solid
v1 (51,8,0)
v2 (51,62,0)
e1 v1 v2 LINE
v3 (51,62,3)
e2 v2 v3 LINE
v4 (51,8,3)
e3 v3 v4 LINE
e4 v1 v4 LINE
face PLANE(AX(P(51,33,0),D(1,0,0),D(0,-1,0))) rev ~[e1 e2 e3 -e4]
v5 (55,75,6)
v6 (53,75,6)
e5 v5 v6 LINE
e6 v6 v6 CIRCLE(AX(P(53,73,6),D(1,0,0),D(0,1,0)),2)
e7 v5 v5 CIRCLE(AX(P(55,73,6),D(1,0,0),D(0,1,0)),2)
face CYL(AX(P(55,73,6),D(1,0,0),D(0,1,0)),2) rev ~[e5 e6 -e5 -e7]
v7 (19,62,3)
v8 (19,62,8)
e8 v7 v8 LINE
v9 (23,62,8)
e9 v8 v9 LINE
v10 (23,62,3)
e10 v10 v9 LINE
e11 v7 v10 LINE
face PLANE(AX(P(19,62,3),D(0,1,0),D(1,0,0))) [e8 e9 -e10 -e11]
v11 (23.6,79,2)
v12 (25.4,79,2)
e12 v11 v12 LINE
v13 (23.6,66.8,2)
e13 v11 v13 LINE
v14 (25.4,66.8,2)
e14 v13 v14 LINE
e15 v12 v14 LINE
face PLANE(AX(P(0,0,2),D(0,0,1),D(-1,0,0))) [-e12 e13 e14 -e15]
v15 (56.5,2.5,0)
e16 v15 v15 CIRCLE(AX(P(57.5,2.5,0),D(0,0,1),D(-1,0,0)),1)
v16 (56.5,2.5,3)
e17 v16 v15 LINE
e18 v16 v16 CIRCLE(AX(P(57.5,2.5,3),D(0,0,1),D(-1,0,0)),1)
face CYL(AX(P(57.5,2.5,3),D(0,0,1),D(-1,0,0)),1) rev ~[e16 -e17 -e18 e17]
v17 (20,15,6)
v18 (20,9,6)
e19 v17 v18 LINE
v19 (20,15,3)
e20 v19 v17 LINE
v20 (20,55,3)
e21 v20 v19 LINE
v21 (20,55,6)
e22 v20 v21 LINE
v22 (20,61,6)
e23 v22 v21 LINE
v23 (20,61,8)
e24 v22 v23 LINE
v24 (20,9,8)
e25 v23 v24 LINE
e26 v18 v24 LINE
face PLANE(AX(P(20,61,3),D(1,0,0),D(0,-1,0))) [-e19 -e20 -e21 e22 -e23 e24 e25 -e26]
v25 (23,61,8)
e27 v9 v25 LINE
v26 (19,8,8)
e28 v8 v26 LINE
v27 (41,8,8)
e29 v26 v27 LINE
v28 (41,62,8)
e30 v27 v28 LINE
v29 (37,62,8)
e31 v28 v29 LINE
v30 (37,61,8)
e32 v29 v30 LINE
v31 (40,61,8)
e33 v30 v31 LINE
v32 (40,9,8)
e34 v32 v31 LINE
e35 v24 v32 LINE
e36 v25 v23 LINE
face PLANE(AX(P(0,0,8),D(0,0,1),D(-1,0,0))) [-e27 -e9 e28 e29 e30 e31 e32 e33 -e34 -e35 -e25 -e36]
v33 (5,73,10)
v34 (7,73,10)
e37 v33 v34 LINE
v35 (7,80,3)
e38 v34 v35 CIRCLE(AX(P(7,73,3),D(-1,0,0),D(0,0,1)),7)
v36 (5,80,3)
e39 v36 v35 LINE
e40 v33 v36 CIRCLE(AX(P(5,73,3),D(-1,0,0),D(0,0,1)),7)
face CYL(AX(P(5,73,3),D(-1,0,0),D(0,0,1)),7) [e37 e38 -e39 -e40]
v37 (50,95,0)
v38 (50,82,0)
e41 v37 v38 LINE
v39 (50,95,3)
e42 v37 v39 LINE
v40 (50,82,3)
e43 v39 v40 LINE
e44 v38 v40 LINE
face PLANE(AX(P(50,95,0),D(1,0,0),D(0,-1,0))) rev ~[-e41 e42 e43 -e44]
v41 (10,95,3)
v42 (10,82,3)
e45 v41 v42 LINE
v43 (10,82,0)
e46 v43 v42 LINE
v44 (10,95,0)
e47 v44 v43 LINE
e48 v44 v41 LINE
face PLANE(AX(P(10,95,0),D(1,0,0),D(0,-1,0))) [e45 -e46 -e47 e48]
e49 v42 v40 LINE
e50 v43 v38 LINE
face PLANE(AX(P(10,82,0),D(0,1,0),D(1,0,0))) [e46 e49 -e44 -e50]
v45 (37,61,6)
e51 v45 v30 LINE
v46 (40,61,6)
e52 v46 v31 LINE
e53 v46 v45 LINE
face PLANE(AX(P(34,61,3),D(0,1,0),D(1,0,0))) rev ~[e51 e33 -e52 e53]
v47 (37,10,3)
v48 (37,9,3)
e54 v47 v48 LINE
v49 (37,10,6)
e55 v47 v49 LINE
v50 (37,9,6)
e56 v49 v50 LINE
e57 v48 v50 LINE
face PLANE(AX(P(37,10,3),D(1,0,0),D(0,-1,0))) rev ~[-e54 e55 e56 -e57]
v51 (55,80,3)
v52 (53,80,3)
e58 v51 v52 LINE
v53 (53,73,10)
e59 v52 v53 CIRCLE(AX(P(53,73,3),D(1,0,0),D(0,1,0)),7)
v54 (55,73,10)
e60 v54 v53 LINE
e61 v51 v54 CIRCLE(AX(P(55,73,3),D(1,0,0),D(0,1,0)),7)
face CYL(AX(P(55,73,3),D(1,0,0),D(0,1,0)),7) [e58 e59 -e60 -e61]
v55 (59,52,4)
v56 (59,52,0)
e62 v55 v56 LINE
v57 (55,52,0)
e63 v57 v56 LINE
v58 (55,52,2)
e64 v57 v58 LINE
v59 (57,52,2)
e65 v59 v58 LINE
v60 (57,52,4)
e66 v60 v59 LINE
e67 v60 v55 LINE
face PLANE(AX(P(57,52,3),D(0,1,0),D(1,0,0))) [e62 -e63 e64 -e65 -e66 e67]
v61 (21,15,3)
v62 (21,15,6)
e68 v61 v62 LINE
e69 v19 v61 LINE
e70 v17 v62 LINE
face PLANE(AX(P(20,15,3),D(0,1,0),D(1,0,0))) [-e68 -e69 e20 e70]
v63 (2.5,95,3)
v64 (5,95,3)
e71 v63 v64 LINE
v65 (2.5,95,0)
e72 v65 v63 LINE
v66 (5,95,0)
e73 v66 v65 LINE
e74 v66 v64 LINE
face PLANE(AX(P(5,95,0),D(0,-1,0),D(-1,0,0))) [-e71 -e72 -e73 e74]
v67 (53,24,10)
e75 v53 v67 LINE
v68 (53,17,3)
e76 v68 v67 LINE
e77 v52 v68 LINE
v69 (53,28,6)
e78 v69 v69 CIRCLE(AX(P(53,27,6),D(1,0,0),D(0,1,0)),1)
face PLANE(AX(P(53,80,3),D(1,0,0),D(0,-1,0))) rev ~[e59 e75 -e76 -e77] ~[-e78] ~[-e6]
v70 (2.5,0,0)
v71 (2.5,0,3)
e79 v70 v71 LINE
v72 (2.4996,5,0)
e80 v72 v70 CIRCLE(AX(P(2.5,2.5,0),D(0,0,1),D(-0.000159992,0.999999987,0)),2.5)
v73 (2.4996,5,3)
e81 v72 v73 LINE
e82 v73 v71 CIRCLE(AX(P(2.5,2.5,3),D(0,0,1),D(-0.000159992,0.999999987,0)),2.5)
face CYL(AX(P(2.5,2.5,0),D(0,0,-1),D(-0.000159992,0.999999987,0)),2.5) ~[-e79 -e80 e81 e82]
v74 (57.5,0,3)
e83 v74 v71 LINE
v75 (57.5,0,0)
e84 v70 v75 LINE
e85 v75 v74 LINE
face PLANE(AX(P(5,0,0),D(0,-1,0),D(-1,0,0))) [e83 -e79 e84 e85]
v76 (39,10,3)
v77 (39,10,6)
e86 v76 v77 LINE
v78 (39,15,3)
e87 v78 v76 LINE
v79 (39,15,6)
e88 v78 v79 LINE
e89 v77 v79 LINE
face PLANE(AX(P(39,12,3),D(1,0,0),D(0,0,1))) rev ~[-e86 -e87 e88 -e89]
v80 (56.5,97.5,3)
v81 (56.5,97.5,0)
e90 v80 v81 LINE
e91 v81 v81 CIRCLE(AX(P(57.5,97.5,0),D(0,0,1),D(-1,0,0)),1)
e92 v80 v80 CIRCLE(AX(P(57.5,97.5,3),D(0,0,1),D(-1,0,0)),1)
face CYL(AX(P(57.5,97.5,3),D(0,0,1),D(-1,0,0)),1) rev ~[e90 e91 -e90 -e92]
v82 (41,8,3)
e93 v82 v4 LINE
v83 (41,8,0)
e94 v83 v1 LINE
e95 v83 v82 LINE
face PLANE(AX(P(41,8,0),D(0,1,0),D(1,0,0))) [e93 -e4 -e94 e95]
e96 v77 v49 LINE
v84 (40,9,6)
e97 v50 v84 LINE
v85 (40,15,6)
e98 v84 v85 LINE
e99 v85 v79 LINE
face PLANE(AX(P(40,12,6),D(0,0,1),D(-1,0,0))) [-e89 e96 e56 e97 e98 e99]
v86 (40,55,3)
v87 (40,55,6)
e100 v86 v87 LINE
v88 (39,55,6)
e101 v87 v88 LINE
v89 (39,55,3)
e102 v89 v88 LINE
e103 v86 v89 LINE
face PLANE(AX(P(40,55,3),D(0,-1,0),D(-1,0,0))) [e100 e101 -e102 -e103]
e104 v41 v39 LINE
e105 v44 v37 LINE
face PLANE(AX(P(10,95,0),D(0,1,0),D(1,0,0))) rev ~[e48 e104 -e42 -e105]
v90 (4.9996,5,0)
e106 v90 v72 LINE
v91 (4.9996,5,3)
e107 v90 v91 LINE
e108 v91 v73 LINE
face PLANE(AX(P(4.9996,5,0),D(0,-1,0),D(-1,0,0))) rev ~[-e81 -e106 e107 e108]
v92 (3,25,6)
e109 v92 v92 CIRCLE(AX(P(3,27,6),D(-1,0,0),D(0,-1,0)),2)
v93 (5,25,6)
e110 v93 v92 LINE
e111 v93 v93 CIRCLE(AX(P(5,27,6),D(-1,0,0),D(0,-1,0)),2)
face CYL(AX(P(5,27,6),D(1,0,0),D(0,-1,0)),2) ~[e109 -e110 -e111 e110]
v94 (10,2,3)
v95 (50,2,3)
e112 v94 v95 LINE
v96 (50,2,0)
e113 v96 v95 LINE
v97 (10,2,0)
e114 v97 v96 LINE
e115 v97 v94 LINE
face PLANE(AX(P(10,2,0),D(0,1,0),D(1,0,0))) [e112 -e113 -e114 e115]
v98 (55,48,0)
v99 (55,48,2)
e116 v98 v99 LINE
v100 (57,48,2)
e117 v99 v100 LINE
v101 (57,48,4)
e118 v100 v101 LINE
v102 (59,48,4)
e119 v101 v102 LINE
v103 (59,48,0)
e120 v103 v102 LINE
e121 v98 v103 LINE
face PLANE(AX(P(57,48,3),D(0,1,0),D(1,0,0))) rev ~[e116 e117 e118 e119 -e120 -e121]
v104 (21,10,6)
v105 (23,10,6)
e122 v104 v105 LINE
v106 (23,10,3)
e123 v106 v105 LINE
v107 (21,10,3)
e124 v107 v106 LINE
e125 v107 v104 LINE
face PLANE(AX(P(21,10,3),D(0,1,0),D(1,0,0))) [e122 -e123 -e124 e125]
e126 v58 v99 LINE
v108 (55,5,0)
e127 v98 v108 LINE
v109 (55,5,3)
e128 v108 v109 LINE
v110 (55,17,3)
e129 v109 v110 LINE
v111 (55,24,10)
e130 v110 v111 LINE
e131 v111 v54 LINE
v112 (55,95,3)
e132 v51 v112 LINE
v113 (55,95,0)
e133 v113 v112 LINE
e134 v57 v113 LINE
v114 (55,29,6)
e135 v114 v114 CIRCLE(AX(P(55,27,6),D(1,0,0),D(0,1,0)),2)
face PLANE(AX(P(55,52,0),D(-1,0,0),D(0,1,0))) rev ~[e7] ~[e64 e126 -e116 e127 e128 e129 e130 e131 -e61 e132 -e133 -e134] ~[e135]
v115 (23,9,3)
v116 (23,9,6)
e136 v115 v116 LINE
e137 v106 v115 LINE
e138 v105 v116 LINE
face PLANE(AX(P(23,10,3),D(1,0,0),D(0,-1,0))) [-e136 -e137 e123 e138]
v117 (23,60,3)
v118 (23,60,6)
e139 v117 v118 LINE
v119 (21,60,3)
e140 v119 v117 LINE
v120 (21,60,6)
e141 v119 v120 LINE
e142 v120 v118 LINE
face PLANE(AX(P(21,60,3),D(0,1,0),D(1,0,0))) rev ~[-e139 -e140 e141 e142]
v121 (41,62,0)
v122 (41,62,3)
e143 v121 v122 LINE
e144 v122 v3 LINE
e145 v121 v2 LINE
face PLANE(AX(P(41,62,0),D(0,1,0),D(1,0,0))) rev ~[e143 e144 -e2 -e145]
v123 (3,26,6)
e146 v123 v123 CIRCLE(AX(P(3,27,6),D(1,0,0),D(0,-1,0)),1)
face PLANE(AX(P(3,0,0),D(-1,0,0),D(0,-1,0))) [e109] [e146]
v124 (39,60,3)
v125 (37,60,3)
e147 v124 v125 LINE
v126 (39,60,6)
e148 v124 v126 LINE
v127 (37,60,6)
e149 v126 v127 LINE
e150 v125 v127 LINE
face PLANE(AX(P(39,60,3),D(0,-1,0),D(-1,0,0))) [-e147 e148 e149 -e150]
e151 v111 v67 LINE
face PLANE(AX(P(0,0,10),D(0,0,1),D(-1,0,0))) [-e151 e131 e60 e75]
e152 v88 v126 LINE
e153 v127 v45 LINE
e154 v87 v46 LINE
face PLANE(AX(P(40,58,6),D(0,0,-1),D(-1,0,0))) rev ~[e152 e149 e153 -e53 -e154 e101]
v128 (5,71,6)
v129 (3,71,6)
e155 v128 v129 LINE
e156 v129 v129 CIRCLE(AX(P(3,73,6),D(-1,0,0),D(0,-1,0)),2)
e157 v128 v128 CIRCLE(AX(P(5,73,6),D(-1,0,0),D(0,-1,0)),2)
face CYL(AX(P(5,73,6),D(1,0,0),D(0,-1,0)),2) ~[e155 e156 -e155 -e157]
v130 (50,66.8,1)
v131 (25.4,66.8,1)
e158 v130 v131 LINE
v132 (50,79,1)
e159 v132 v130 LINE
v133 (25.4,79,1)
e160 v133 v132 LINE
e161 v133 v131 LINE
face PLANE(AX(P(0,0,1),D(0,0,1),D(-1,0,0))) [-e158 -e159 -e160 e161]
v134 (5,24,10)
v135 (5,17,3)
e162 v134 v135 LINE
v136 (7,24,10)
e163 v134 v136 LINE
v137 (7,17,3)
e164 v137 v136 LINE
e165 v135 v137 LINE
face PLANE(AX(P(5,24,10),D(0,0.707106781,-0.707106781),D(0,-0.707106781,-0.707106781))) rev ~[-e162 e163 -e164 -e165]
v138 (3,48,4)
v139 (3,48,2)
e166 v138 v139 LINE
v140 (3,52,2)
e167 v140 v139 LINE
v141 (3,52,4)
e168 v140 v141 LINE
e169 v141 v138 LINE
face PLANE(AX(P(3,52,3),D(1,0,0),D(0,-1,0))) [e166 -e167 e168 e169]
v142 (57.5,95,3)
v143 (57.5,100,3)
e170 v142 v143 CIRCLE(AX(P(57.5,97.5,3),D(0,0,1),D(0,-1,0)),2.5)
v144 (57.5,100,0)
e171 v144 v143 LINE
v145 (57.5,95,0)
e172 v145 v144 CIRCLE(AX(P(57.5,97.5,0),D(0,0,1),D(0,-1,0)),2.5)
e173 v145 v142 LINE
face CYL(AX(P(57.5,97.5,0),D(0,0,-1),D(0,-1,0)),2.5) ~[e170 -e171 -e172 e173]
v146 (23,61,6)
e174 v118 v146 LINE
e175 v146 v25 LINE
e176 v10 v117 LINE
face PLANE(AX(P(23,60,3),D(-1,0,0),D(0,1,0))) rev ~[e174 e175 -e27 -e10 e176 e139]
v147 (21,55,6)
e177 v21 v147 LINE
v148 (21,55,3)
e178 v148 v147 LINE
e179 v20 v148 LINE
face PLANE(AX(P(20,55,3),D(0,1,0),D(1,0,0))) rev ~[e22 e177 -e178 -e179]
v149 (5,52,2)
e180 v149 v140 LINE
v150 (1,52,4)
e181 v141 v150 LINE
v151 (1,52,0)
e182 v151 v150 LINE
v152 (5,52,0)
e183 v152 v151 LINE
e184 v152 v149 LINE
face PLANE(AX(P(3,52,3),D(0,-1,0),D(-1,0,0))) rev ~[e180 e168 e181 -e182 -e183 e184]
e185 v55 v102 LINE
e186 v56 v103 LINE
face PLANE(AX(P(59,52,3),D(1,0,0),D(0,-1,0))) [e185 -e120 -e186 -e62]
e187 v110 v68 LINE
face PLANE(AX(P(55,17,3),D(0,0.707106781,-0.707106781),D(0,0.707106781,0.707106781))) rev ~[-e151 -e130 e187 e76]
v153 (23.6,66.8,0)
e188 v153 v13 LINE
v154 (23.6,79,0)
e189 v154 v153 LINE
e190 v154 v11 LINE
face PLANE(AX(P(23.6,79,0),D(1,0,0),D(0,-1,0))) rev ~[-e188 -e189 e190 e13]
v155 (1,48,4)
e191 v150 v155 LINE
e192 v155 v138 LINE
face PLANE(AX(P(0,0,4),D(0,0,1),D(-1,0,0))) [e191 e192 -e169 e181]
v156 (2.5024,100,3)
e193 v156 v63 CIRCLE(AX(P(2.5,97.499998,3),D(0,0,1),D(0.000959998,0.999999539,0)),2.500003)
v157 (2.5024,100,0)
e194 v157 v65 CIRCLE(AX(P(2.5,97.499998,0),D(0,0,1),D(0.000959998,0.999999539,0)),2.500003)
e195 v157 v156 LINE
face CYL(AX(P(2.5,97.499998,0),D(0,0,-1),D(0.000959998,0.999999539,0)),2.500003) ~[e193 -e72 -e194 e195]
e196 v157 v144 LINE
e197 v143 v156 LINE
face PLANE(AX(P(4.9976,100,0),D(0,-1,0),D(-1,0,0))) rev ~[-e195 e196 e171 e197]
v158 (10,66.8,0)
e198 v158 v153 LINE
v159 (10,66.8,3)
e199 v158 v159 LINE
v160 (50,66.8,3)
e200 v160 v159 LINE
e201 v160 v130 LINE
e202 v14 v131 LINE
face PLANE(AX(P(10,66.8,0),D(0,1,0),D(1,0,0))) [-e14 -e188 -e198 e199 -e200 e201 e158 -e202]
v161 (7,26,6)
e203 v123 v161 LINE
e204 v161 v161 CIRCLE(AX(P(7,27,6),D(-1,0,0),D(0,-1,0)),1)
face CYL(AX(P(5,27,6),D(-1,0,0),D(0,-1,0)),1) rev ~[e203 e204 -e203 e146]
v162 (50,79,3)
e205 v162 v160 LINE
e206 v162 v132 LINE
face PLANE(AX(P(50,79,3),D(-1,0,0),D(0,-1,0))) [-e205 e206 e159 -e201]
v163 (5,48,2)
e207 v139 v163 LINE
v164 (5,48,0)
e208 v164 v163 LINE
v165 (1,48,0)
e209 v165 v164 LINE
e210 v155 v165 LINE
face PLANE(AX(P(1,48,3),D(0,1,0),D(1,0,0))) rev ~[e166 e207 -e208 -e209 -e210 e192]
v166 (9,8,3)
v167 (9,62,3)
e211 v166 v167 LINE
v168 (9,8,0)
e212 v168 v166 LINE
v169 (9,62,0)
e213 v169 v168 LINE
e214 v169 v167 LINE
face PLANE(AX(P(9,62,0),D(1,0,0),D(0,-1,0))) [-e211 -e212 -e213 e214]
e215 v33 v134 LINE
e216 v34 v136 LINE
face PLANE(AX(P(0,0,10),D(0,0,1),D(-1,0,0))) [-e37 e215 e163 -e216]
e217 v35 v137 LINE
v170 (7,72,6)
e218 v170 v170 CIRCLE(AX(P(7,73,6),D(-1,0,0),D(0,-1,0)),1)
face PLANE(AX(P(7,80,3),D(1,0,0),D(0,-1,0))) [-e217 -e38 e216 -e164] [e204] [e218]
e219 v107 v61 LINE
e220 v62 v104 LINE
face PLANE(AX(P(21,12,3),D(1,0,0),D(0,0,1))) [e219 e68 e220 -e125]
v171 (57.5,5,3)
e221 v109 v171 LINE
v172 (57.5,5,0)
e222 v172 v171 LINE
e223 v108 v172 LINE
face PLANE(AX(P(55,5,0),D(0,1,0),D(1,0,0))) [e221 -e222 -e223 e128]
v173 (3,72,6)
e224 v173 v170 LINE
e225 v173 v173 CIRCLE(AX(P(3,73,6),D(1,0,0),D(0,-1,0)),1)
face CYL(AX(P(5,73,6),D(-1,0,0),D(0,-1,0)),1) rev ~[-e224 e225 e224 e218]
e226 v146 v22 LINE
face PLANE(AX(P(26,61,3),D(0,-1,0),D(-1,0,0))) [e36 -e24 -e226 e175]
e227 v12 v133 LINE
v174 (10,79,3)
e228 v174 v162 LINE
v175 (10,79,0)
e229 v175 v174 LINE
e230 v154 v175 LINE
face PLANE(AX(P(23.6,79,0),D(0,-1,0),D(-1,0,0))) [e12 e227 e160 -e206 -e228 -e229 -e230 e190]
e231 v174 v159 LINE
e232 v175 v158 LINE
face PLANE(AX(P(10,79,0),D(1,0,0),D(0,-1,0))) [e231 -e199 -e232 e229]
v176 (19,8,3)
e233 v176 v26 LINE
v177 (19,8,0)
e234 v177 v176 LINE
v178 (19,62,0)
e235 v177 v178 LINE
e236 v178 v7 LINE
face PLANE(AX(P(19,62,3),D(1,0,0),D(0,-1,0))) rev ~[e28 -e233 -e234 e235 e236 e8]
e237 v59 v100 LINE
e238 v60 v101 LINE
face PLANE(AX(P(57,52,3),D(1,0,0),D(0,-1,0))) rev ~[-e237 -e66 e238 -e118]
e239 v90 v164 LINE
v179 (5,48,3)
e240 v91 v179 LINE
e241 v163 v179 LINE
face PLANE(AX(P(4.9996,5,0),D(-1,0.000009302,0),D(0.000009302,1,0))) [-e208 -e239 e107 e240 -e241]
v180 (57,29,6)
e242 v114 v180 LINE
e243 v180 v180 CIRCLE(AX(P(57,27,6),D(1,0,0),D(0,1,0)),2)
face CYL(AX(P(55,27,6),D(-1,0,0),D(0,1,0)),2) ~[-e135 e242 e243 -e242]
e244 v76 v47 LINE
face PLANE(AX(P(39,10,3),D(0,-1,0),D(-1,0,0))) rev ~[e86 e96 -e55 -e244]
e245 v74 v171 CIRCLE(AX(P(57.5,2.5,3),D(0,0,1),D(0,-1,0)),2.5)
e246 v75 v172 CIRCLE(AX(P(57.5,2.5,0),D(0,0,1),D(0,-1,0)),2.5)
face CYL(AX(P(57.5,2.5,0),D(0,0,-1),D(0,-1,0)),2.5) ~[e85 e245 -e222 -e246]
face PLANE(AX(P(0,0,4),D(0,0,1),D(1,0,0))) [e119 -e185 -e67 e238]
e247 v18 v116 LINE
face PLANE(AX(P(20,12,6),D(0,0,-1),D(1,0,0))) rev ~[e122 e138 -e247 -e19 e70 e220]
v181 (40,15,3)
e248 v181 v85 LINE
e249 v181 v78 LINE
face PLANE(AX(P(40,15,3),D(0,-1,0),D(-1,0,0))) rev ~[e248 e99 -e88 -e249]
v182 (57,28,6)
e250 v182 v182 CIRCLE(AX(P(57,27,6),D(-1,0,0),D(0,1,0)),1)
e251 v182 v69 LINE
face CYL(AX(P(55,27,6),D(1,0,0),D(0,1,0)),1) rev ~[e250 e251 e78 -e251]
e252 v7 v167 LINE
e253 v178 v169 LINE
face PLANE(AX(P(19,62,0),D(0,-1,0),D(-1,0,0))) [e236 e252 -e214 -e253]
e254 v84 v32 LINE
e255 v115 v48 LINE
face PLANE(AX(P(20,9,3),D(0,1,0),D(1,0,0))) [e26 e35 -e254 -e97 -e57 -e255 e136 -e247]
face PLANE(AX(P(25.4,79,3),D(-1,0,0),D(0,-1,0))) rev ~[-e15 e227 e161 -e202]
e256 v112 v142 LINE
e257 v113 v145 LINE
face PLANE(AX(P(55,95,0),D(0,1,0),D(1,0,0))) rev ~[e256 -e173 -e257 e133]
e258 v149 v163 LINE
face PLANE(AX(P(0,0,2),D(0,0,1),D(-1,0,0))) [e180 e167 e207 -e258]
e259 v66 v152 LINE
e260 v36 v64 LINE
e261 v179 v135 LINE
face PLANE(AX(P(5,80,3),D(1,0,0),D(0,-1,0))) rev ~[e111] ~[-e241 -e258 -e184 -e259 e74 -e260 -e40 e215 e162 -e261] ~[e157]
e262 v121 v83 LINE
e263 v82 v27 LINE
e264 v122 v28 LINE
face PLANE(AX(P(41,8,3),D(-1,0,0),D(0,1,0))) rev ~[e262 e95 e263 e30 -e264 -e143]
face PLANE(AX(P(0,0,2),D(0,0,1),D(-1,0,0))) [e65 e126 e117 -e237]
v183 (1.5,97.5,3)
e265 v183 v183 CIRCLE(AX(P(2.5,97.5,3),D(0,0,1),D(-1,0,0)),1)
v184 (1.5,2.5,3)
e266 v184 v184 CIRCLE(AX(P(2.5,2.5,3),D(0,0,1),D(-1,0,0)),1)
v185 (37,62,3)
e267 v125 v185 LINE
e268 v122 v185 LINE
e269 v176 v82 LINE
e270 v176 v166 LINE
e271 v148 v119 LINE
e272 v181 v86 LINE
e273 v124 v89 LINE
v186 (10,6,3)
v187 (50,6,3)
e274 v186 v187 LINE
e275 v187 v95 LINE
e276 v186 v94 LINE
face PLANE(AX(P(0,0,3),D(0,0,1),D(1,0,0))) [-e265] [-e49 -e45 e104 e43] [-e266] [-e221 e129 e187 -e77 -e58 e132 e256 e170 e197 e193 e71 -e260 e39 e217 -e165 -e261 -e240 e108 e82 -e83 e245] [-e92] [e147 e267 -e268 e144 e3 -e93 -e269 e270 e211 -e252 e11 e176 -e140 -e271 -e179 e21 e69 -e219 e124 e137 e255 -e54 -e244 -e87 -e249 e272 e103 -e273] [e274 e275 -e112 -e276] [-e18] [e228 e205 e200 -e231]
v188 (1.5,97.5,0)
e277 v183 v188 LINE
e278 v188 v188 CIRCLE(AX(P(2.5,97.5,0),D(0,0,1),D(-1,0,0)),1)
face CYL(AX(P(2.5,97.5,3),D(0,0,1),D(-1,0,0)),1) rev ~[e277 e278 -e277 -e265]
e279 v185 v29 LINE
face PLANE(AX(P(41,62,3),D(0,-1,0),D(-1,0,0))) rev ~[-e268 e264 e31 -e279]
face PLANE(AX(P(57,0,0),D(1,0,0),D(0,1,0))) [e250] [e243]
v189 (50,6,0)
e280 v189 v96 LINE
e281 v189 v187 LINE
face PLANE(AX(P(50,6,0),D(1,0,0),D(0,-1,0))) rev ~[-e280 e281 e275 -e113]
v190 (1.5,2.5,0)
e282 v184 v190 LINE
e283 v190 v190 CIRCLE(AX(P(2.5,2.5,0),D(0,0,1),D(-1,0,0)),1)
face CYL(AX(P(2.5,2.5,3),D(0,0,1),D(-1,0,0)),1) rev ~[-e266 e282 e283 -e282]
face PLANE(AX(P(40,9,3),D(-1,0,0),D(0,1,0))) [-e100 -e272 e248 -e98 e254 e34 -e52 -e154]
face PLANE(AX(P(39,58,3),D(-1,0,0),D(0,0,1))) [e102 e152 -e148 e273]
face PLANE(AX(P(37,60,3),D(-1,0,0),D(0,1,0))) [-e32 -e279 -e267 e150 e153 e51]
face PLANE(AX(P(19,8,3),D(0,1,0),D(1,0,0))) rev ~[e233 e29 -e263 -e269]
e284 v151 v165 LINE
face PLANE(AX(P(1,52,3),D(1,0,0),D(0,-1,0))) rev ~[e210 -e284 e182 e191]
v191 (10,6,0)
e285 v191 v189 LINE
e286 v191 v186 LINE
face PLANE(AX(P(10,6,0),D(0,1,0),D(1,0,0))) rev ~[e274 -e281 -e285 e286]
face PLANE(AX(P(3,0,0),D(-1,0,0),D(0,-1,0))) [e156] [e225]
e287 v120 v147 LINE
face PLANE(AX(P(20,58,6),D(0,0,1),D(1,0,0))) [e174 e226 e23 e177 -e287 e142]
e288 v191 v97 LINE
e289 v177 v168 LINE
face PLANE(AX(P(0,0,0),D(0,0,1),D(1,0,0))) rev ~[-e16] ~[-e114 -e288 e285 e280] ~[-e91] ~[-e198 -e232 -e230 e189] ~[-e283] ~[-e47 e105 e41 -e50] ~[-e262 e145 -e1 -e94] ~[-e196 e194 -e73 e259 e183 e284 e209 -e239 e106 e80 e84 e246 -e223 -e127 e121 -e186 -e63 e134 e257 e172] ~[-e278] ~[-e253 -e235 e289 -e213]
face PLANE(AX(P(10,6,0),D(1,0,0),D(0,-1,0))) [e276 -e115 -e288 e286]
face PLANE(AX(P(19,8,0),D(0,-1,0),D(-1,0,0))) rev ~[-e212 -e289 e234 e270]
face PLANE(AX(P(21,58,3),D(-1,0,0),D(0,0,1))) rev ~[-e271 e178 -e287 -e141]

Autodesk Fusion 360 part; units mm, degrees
sketch "Structure" plane through (0, 0, 0) normal (0, 0, 1) x (1, 0, 0)
  line L0 (5, 0) -> (55, 0)
  line L1 (4.9996, 5) -> (5, 5)
  line L2 (5, 5) -> (5, 48)
  line L3 (4.9976, 100) -> (55, 100)
  arc A0 (55, 100) -> (54.9973, 100) centre (55, 97.5) ccw
  arc A1 (5.0024, 100) -> (4.9976, 100) centre (5, 97.5) ccw
  line L4 (10, 95) -> (10, 82)
  line L5 (10, 95) -> (50, 95)
  line L6 (50, 95) -> (50, 82)
  line L7 (10, 82) -> (50, 82)
  line L8 (10, 79) -> (10, 66.8)
  line L9 (23.6, 79) -> (10, 79)
  line L10 (10, 66.8) -> (23.6, 66.8)
  line L11 (23.6, 79) -> (23.6, 66.8)
  line L12 (4.9996, 8) -> (5, 8)
  line L13 (55, 5) -> (55, 8)
  line L14 (4.9996, 8) -> (5, 8)
  line L15 (10, 6) -> (50, 6)
  line L16 (10, 6) -> (10, 2)
  line L17 (10, 2) -> (50, 2)
  line L18 (50, 6) -> (50, 2)
  line L19 (19, 62) -> (19, 37)
  line L20 (19, 33) -> (19, 8)
  line L21 (19, 62) -> (9, 62)
  line L22 (19, 8) -> (9, 8)
  line L23 (9, 62) -> (9, 37)
  line L24 (9, 33) -> (9, 8)
  line L25 (41, 62) -> (41, 37)
  line L26 (41, 8) -> (41, 33)
  line L27 (41, 62) -> (51, 62)
  line L28 (41, 8) -> (51, 8)
  line L29 (51, 62) -> (51, 37)
  line L30 (51, 33) -> (51, 8)
  line L31 (55, 5) -> (55, 48)
  line L32 (55, 52) -> (59, 52)
  line L33 (55, 48) -> (59, 48)
  line L34 (59, 52) -> (59, 48)
  line L35 (55, 52) -> (55, 95)
  line L36 (5, 95) -> (5, 52)
  line L37 (5, 52) -> (1, 52)
  line L38 (1, 52) -> (1, 48)
  line L39 (1, 48) -> (5, 48)
  line L40 (9, 37) -> (9, 33)
  line L41 (19, 37) -> (19, 33)
  line L42 (41, 37) -> (41, 33)
  line L43 (51, 37) -> (51, 33)
  line L44 (55, 5) -> (57.5, 5)
  line L45 (55, 0) -> (57.5, 0)
  arc A2 (57.5, 0) -> (57.5, 5) centre (57.5, 2.5) ccw
  line L46 (55, 100) -> (57.5, 100)
  line L47 (55, 95) -> (57.5, 95)
  arc A3 (57.5, 95) -> (57.5, 100) centre (57.5, 97.5) ccw
  line L48 (5, 95) -> (2.5, 95)
  line L49 (5.0024, 100) -> (2.5024, 100)
  arc A4 (2.5024, 100) -> (2.5053, 95) centre (2.5, 97.5) ccw
  line L50 (4.9996, 5) -> (2.4996, 5)
  line L51 (5, 0) -> (2.5, 0)
  arc A5 (2.5006, 5) -> (2.5, 0) centre (2.5, 2.5) ccw
  dimension "d4" = 90
  dimension "d7" = 90
  dimension "d13" = 5
  dimension "d14" = 5
  dimension "d17" = 5
  dimension "d18" = 13
  dimension "d19" = 40
  dimension "d20" = 13
  dimension "d21" = 40
  dimension "d22" = 3
  dimension "d23" = 12.2
  dimension "d28" = 13.6
  dimension "d29" = 13.6
  dimension "d30" = 12.2
  dimension "d31" = 3
  dimension "d33" = 3
  dimension "d42" = 54
  dimension "d43" = 54
  dimension "d47" = 40
  dimension "d48" = 4
  dimension "d49" = 40
  dimension "d50" = 4
  dimension "d51" = 25
  dimension "d53" = 4
  dimension "d55" = 10
  dimension "d57" = 10
  dimension "d58" = 10
  dimension "d59" = 25
  dimension "d60" = 25
  dimension "d61" = 25
  dimension "d62" = 25
  dimension "d63" = 10
  dimension "d65" = 10
  dimension "d66" = 10
  dimension "d67" = 25
  dimension "d68" = 25
  dimension "d82" = 43
  dimension "d83" = 43
  dimension "d84" = 4
  dimension "d85" = 4
  dimension "d86" = 43
  dimension "d87" = 4
  dimension "d88" = 4
  dimension "d89" = 4
  dimension "d239" = 2.5
  dimension "d240" = 2.5
  dimension "d241" = 2.5
  dimension "d242" = 2.5
  dimension "d243" = 5
  dimension "d244" = 2.5
  dimension "d245" = 2.5
  dimension "d246" = 2.5
  dimension "d247" = 2.5
extrude "Extrude1" add sketch "Structure" along normal blind 3
sketch "Motor Hole" plane through (0, 0, 3) normal (0, 0, 1) x (-1, 0, 0)
  line L0 (-10, -82) -> (-10, -95)
  line L1 (-10, -95) -> (-50, -95)
  line L2 (-50, -95) -> (-50, -82)
  line L3 (-50, -82) -> (-10, -82)
  line L4 (-9, -62) -> (-19, -62)
  line L5 (-19, -62) -> (-19, -8)
  line L6 (-9, -8) -> (-9, -62)
  line L7 (-10, -2) -> (-10, -6)
  line L8 (-10, -6) -> (-50, -6)
  line L9 (-50, -6) -> (-50, -2)
  line L10 (-50, -2) -> (-10, -2)
  line L11 (-10, -66.8) -> (-10, -79)
  line L12 (-10, -79) -> (-23.6, -79)
  line L13 (-23.6, -79) -> (-23.6, -66.8)
  line L14 (-23.6, -66.8) -> (-10, -66.8)
  line L15 (-41, -8) -> (-41, -62)
  line L16 (-41, -62) -> (-51, -62)
  line L17 (-51, -62) -> (-51, -8)
  line L18 (-19, -8) -> (-9, -8)
  line L19 (-51, -8) -> (-41, -8)
  line L20 (-2.5, 0) -> (-57.5, 0)
  line L21 (-55, -5) -> (-55, -48)
  arc A0 (-55, -100) -> (-54.9973, -100) centre (-55, -97.5) ccw
  line L22 (-5, -48) -> (-5, -5)
  line L23 (-50, -79) -> (-50, -66.8)
  line L24 (-50, -79) -> (-25.6, -79)
  line L25 (-25.6, -79) -> (-25.6, -66.8)
  line L26 (-25.6, -66.8) -> (-50, -66.8)
  line L27 (-23.6, -79) -> (-25.6, -79)
  line L28 (-23.6, -66.8) -> (-25.6, -66.8)
  line L29 (-5, -95) -> (-5, -52)
  line L30 (-5, -52) -> (-1, -52)
  line L31 (-1, -52) -> (-1, -48)
  line L32 (-1, -48) -> (-5, -48)
  line L33 (-55, -48) -> (-59, -48)
  line L34 (-59, -48) -> (-59, -52)
  line L35 (-59, -52) -> (-55, -52)
  line L36 (-55, -52) -> (-55, -95)
  line L37 (-5, -5) -> (-2.5006, -5)
  arc A1 (-2.5006, -5) -> (-2.5, 0) centre (-2.5, -2.5) ccw
  arc A2 (-57.5, 0) -> (-57.5, -5) centre (-57.5, -2.5) ccw
  line L38 (-57.5, -5) -> (-55, -5)
  line L39 (-55, -95) -> (-57.5, -95)
  arc A3 (-57.5, -95) -> (-57.5, -100) centre (-57.5, -97.5) ccw
  line L40 (-57.5, -100) -> (-55, -100)
  line L41 (-54.9973, -100) -> (-2.5024, -100)
  arc A4 (-2.5024, -100) -> (-2.5053, -95) centre (-2.5, -97.5) ccw
  line L42 (-2.5053, -95) -> (-5, -95)
  dimension "d71" = 3
  dimension "d72" = 12.2
  dimension "d73" = 24.4
  dimension "d74" = 12.2
  dimension "d75" = 24.4
  dimension "d76" = 2
  dimension "d77" = 2
extrude "Extrude2" cut sketch "Motor Hole" against normal blind 2 contours L23 L24 L25 L26
extrude "Extrude3" cut sketch "Motor Hole" against normal blind 1 contours L13 L25 L27 L28
sketch "Rec. Base1" plane through (0, 0, 3) normal (0, 0, 1) x (-1, 0, 0)
  line L0 (-2.5, 0) -> (-57.5, 0)
  line L1 (-55, -5) -> (-55, -48)
  arc A0 (-55, -100) -> (-54.9973, -100) centre (-55, -97.5) ccw
  line L2 (-5, -48) -> (-5, -5)
  line L3 (-51, -8) -> (-41, -8)
  line L4 (-19, -8) -> (-9, -8)
  line L5 (-41, -8) -> (-41, -62)
  line L6 (-41, -62) -> (-51, -62)
  line L7 (-51, -62) -> (-51, -8)
  line L8 (-50, -66.8) -> (-10, -66.8)
  line L9 (-10, -66.8) -> (-10, -79)
  line L10 (-10, -79) -> (-50, -79)
  line L11 (-50, -79) -> (-50, -66.8)
  line L12 (-10, -2) -> (-10, -6)
  line L13 (-10, -6) -> (-50, -6)
  line L14 (-50, -6) -> (-50, -2)
  line L15 (-50, -2) -> (-10, -2)
  line L16 (-9, -62) -> (-19, -62)
  line L17 (-19, -62) -> (-19, -8)
  line L18 (-9, -8) -> (-9, -62)
  line L19 (-10, -82) -> (-10, -95)
  line L20 (-10, -95) -> (-50, -95)
  line L21 (-50, -95) -> (-50, -82)
  line L22 (-50, -82) -> (-10, -82)
  line L23 (-5, -95) -> (-5, -52)
  line L24 (-5, -52) -> (-1, -52)
  line L25 (-1, -52) -> (-1, -48)
  line L26 (-1, -48) -> (-5, -48)
  line L27 (-55, -48) -> (-59, -48)
  line L28 (-59, -48) -> (-59, -52)
  line L29 (-59, -52) -> (-55, -52)
  line L30 (-55, -52) -> (-55, -95)
  line L31 (-19, -8) -> (-41, -8)
  line L32 (-19, -8) -> (-19, -62)
  line L33 (-41, -8) -> (-41, -62)
  line L34 (-19, -62) -> (-26, -62)
  line L35 (-41, -62) -> (-34, -62)
  line L36 (-26, -62) -> (-26, -61)
  line L37 (-34, -62) -> (-34, -61)
  line L38 (-26, -61) -> (-20, -61)
  line L39 (-34, -61) -> (-40, -61)
  line L40 (-20, -61) -> (-20, -9)
  line L41 (-20, -9) -> (-40, -9)
  line L42 (-40, -9) -> (-40, -61)
  line L43 (-5, -5) -> (-2.5006, -5)
  arc A1 (-2.5006, -5) -> (-2.5, 0) centre (-2.5, -2.5) ccw
  arc A2 (-57.5, 0) -> (-57.5, -5) centre (-57.5, -2.5) ccw
  line L44 (-57.5, -5) -> (-55, -5)
  line L45 (-55, -95) -> (-57.5, -95)
  arc A3 (-57.5, -95) -> (-57.5, -100) centre (-57.5, -97.5) ccw
  line L46 (-57.5, -100) -> (-55, -100)
  line L47 (-54.9973, -100) -> (-2.5024, -100)
  arc A4 (-2.5024, -100) -> (-2.5053, -95) centre (-2.5, -97.5) ccw
  line L48 (-2.5053, -95) -> (-5, -95)
  dimension "d90" = 22
  dimension "d91" = 54
  dimension "d92" = 54
  dimension "d93" = 7
  dimension "d94" = 7
  dimension "d95" = 1
  dimension "d96" = 1
  dimension "d97" = 6
  dimension "d98" = 6
  dimension "d99" = 52
  dimension "d100" = 20
  dimension "d101" = 52
extrude "Extrude4" add sketch "Rec. Base1" along normal blind 7 contours L5 L17 L31 L32 L33 L34 L35 L36 L37 L38 L39 L40 L41 L42
sketch "Hook" plane through (0, 0, 3) normal (0, 0, 1) x (-1, 0, 0)
  line L0 (-34, -62) -> (-41, -62)
  line L1 (-41, -62) -> (-51, -62)
  line L2 (-51, -62) -> (-51, -8)
  line L3 (-51, -8) -> (-41, -8)
  line L4 (-41, -8) -> (-19, -8)
  line L5 (-19, -8) -> (-9, -8)
  line L6 (-9, -8) -> (-9, -62)
  line L7 (-9, -62) -> (-19, -62)
  line L8 (-19, -62) -> (-26, -62)
  line L9 (-26, -62) -> (-26, -61)
  line L10 (-26, -61) -> (-20, -61)
  line L11 (-20, -61) -> (-20, -9)
  line L12 (-20, -9) -> (-40, -9)
  line L13 (-40, -9) -> (-40, -61)
  line L14 (-40, -61) -> (-34, -61)
  line L15 (-34, -61) -> (-34, -62)
  arc A0 (-55, -100) -> (-54.9973, -100) centre (-55, -97.5) ccw
  line L16 (-5, -95) -> (-5, -52)
  line L17 (-5, -52) -> (-1, -52)
  line L18 (-1, -52) -> (-1, -48)
  line L19 (-1, -48) -> (-5, -48)
  line L20 (-5, -48) -> (-5, -5)
  line L21 (-2.5, 0) -> (-57.5, 0)
  line L22 (-55, -5) -> (-55, -48)
  line L23 (-55, -48) -> (-59, -48)
  line L24 (-59, -48) -> (-59, -52)
  line L25 (-59, -52) -> (-55, -52)
  line L26 (-55, -52) -> (-55, -95)
  line L27 (-10, -2) -> (-10, -6)
  line L28 (-10, -6) -> (-50, -6)
  line L29 (-50, -6) -> (-50, -2)
  line L30 (-50, -2) -> (-10, -2)
  line L31 (-50, -66.8) -> (-10, -66.8)
  line L32 (-10, -66.8) -> (-10, -79)
  line L33 (-10, -79) -> (-50, -79)
  line L34 (-50, -79) -> (-50, -66.8)
  line L35 (-10, -82) -> (-10, -95)
  line L36 (-10, -95) -> (-50, -95)
  line L37 (-50, -95) -> (-50, -82)
  line L38 (-50, -82) -> (-10, -82)
  line L39 (-57, -52) -> (-57, -48)
  line L40 (-55, -52) -> (-55, -48)
  line L41 (-5, -52) -> (-5, -48)
  line L42 (-3, -52) -> (-3, -48)
  line L43 (-5, -5) -> (-2.5006, -5)
  arc A1 (-2.5006, -5) -> (-2.5, 0) centre (-2.5, -2.5) ccw
  arc A2 (-57.5, 0) -> (-57.5, -5) centre (-57.5, -2.5) ccw
  line L44 (-57.5, -5) -> (-55, -5)
  line L45 (-55, -95) -> (-57.5, -95)
  arc A3 (-57.5, -95) -> (-57.5, -100) centre (-57.5, -97.5) ccw
  line L46 (-57.5, -100) -> (-55, -100)
  line L47 (-54.9973, -100) -> (-2.5024, -100)
  arc A4 (-2.5024, -100) -> (-2.5053, -95) centre (-2.5, -97.5) ccw
  line L48 (-2.5053, -95) -> (-5, -95)
extrude "Extrude5" cut sketch "Hook" against normal blind 1 contours L23 L25 L39 L40
extrude "Extrude6" add 1 faces at (57.6667, 50.6667, 3) along direction (0, 0, 1) blind 1
extrude "Extrude7" cut sketch "Hook" against normal blind 1 contours L17 L19 L41 L42
extrude "Extrude8" add sketch "Hook" along normal blind 1 contours L17 L18 L19 L42
sketch "Rec. Base2" plane through (0, 0, 3) normal (0, 0, 1) x (-1, 0, 0)
  line L0 (-5, -95) -> (-5, -5)
  line L1 (-2.5, 0) -> (-57.5, 0)
  line L2 (-55, -5) -> (-55, -95)
  arc A0 (-55, -100) -> (-54.9973, -100) centre (-55, -97.5) ccw
  line L3 (-34, -62) -> (-41, -62)
  line L4 (-41, -62) -> (-51, -62)
  line L5 (-51, -62) -> (-51, -8)
  line L6 (-51, -8) -> (-41, -8)
  line L7 (-41, -8) -> (-19, -8)
  line L8 (-19, -8) -> (-9, -8)
  line L9 (-9, -8) -> (-9, -62)
  line L10 (-9, -62) -> (-19, -62)
  line L11 (-19, -62) -> (-26, -62)
  line L12 (-26, -62) -> (-26, -61)
  line L13 (-26, -61) -> (-20, -61)
  line L14 (-20, -61) -> (-20, -9)
  line L15 (-20, -9) -> (-40, -9)
  line L16 (-40, -9) -> (-40, -61)
  line L17 (-40, -61) -> (-34, -61)
  line L18 (-34, -61) -> (-34, -62)
  line L19 (-10, -2) -> (-10, -6)
  line L20 (-10, -6) -> (-50, -6)
  line L21 (-50, -6) -> (-50, -2)
  line L22 (-50, -2) -> (-10, -2)
  line L23 (-50, -66.8) -> (-10, -66.8)
  line L24 (-10, -66.8) -> (-10, -79)
  line L25 (-10, -79) -> (-50, -79)
  line L26 (-50, -79) -> (-50, -66.8)
  line L27 (-10, -82) -> (-10, -95)
  line L28 (-10, -95) -> (-50, -95)
  line L29 (-50, -95) -> (-50, -82)
  line L30 (-50, -82) -> (-10, -82)
  line L31 (-20, -58) -> (-21, -58)
  line L32 (-21, -58) -> (-21, -60)
  line L33 (-21, -60) -> (-23, -60)
  line L34 (-23, -60) -> (-23, -61)
  line L35 (-40, -58) -> (-39, -58)
  line L36 (-39, -58) -> (-39, -60)
  line L37 (-39, -60) -> (-37, -60)
  line L38 (-37, -60) -> (-37, -61)
  line L39 (-20, -12) -> (-21, -12)
  line L40 (-21, -12) -> (-21, -10)
  line L41 (-21, -10) -> (-23, -10)
  line L42 (-23, -10) -> (-23, -9)
  line L43 (-40, -12) -> (-39, -12)
  line L44 (-39, -12) -> (-39, -10)
  line L45 (-39, -10) -> (-37, -10)
  line L46 (-37, -10) -> (-37, -9)
  line L47 (-5, -5) -> (-2.5006, -5)
  arc A1 (-2.5006, -5) -> (-2.5, 0) centre (-2.5, -2.5) ccw
  arc A2 (-57.5, 0) -> (-57.5, -5) centre (-57.5, -2.5) ccw
  line L48 (-57.5, -5) -> (-55, -5)
  line L49 (-55, -95) -> (-57.5, -95)
  arc A3 (-57.5, -95) -> (-57.5, -100) centre (-57.5, -97.5) ccw
  line L50 (-57.5, -100) -> (-55, -100)
  line L51 (-54.9973, -100) -> (-2.5024, -100)
  arc A4 (-2.5024, -100) -> (-2.5053, -95) centre (-2.5, -97.5) ccw
  line L52 (-2.5053, -95) -> (-5, -95)
  dimension "d112" = 3
  dimension "d113" = 1
  dimension "d114" = 2
  dimension "d115" = 2
  dimension "d116" = 1
  dimension "d117" = 3
  dimension "d118" = 1
  dimension "d119" = 2
  dimension "d120" = 2
  dimension "d121" = 1
  dimension "d122" = 3
  dimension "d123" = 1
  dimension "d124" = 2
  dimension "d125" = 2
  dimension "d126" = 1
  dimension "d127" = 3
  dimension "d128" = 1
  dimension "d129" = 2
  dimension "d130" = 2
  dimension "d131" = 1
extrude "Extrude9" cut 1 faces at (40.6667, 26.3333, 10) along direction (0, 0, -1) blind 2
extrude "Extrude10" add sketch "Rec. Base2" along normal blind 3 contours L13 L14 L31 L32 L33 L34
extrude "Extrude11" add sketch "Rec. Base2" along normal blind 3 contours L16 L17 L35 L36 L37 L38
extrude "Extrude12" add sketch "Rec. Base2" along normal blind 3 contours L15 L16 L43 L44 L45 L46
extrude "Extrude13" add sketch "Rec. Base2" along normal blind 3 contours L14 L15 L39 L40 L41 L42
sketch "Side Wheel Base" plane through (0, 0, 3) normal (0, 0, 1) x (-1, 0, 0)
  line L0 (-5, -95) -> (-5, -5)
  line L1 (-2.5, 0) -> (-57.5, 0)
  line L2 (-55, -5) -> (-55, -95)
  arc A0 (-55, -100) -> (-54.9973, -100) centre (-55, -97.5) ccw
  line L3 (-10, -2) -> (-10, -6)
  line L4 (-10, -6) -> (-50, -6)
  line L5 (-50, -6) -> (-50, -2)
  line L6 (-50, -2) -> (-10, -2)
  line L7 (-50, -66.8) -> (-10, -66.8)
  line L8 (-10, -66.8) -> (-10, -79)
  line L9 (-10, -79) -> (-50, -79)
  line L10 (-50, -79) -> (-50, -66.8)
  line L11 (-10, -82) -> (-10, -95)
  line L12 (-10, -95) -> (-50, -95)
  line L13 (-50, -95) -> (-50, -82)
  line L14 (-50, -82) -> (-10, -82)
  line L15 (-20, -12) -> (-21, -12)
  line L16 (-21, -12) -> (-21, -10)
  line L17 (-21, -10) -> (-23, -10)
  line L18 (-23, -10) -> (-23, -9)
  line L19 (-23, -9) -> (-37, -9)
  line L20 (-37, -9) -> (-37, -10)
  line L21 (-37, -10) -> (-39, -10)
  line L22 (-39, -10) -> (-39, -12)
  line L23 (-39, -12) -> (-40, -12)
  line L24 (-40, -12) -> (-40, -58)
  line L25 (-40, -58) -> (-39, -58)
  line L26 (-39, -58) -> (-39, -60)
  line L27 (-39, -60) -> (-37, -60)
  line L28 (-37, -60) -> (-37, -61)
  line L29 (-37, -61) -> (-34, -61)
  line L30 (-34, -61) -> (-34, -62)
  line L31 (-34, -62) -> (-41, -62)
  line L32 (-41, -62) -> (-51, -62)
  line L33 (-51, -62) -> (-51, -8)
  line L34 (-51, -8) -> (-41, -8)
  line L35 (-41, -8) -> (-19, -8)
  line L36 (-19, -8) -> (-9, -8)
  line L37 (-9, -8) -> (-9, -62)
  line L38 (-9, -62) -> (-19, -62)
  line L39 (-19, -62) -> (-26, -62)
  line L40 (-26, -62) -> (-26, -61)
  line L41 (-26, -61) -> (-23, -61)
  line L42 (-23, -61) -> (-23, -60)
  line L43 (-23, -60) -> (-21, -60)
  line L44 (-21, -60) -> (-21, -58)
  line L45 (-21, -58) -> (-20, -58)
  line L46 (-20, -58) -> (-20, -12)
  circle A1 centre (-5, -2.5) radius 1.5
  circle A2 centre (-55, -2.5) radius 1.5
  circle A3 centre (-55, -97.5) radius 1.5
  circle A4 centre (-5, -97.5) radius 1.5
  circle A5 centre (-5, -97.5) radius 0.9
  circle A6 centre (-55, -97.5) radius 0.9
  circle A7 centre (-55, -2.5) radius 0.9
  circle A8 centre (-5, -2.5) radius 0.9
  line L47 (-5, -5) -> (-2.5006, -5)
  arc A9 (-2.5006, -5) -> (-2.5, 0) centre (-2.5, -2.5) ccw
  arc A10 (-57.5, 0) -> (-57.5, -5) centre (-57.5, -2.5) ccw
  line L48 (-57.5, -5) -> (-55, -5)
  line L49 (-55, -95) -> (-57.5, -95)
  arc A11 (-57.5, -95) -> (-57.5, -100) centre (-57.5, -97.5) ccw
  line L50 (-57.5, -100) -> (-55, -100)
  line L51 (-54.9973, -100) -> (-2.5024, -100)
  arc A12 (-2.5024, -100) -> (-2.5053, -95) centre (-2.5, -97.5) ccw
  line L52 (-2.5053, -95) -> (-5, -95)
  dimension "d142" = 3
  dimension "d143" = 3
  dimension "d144" = 3
  dimension "d145" = 3
  dimension "d146" = 1.8
  dimension "d147" = 1.8
  dimension "d148" = 1.8
  dimension "d149" = 1.8
extrude "Extrude14" add sketch "Side Wheel Base" along normal blind 3.4 contours A8
extrude "Extrude15" add sketch "Side Wheel Base" along normal blind 1 contours A1
extrude "Extrude16" add sketch "Side Wheel Base" along normal blind 3.4 contours A7
extrude "Extrude17" add sketch "Side Wheel Base" along normal blind 1 contours A2
extrude "Extrude18" add sketch "Side Wheel Base" along normal blind 3.4 contours A6
extrude "Extrude19" add sketch "Side Wheel Base" along normal blind 1 contours A3
extrude "Extrude20" add sketch "Side Wheel Base" along normal blind 3.4 contours A5
extrude "Extrude21" add sketch "Side Wheel Base" along normal blind 1 contours A4
sketch "Side Car1" plane through (0, 0, 3) normal (0, 0, 1) x (-1, 0, 0)
  circle A0 centre (-5, -97.5) radius 1.5
  circle A1 centre (-55, -97.5) radius 1.5
  circle A2 centre (-55, -2.5) radius 1.5
  circle A3 centre (-5, -2.5) radius 1.5
  line L0 (-5, -95) -> (-5, -5)
  line L1 (-2.5, 0) -> (-57.5, 0)
  line L2 (-55, -5) -> (-55, -95)
  arc A4 (-55, -100) -> (-54.9973, -100) centre (-55, -97.5) ccw
  line L3 (-10, -2) -> (-10, -6)
  line L4 (-10, -6) -> (-50, -6)
  line L5 (-50, -6) -> (-50, -2)
  line L6 (-50, -2) -> (-10, -2)
  line L7 (-50, -66.8) -> (-10, -66.8)
  line L8 (-10, -66.8) -> (-10, -79)
  line L9 (-10, -79) -> (-50, -79)
  line L10 (-50, -79) -> (-50, -66.8)
  line L11 (-10, -82) -> (-10, -95)
  line L12 (-10, -95) -> (-50, -95)
  line L13 (-50, -95) -> (-50, -82)
  line L14 (-50, -82) -> (-10, -82)
  line L15 (-20, -12) -> (-21, -12)
  line L16 (-21, -12) -> (-21, -10)
  line L17 (-21, -10) -> (-23, -10)
  line L18 (-23, -10) -> (-23, -9)
  line L19 (-23, -9) -> (-37, -9)
  line L20 (-37, -9) -> (-37, -10)
  line L21 (-37, -10) -> (-39, -10)
  line L22 (-39, -10) -> (-39, -12)
  line L23 (-39, -12) -> (-40, -12)
  line L24 (-40, -12) -> (-40, -58)
  line L25 (-40, -58) -> (-39, -58)
  line L26 (-39, -58) -> (-39, -60)
  line L27 (-39, -60) -> (-37, -60)
  line L28 (-37, -60) -> (-37, -61)
  line L29 (-37, -61) -> (-34, -61)
  line L30 (-34, -61) -> (-34, -62)
  line L31 (-34, -62) -> (-41, -62)
  line L32 (-41, -62) -> (-51, -62)
  line L33 (-51, -62) -> (-51, -8)
  line L34 (-51, -8) -> (-41, -8)
  line L35 (-41, -8) -> (-19, -8)
  line L36 (-19, -8) -> (-9, -8)
  line L37 (-9, -8) -> (-9, -62)
  line L38 (-9, -62) -> (-19, -62)
  line L39 (-19, -62) -> (-26, -62)
  line L40 (-26, -62) -> (-26, -61)
  line L41 (-26, -61) -> (-23, -61)
  line L42 (-23, -61) -> (-23, -60)
  line L43 (-23, -60) -> (-21, -60)
  line L44 (-21, -60) -> (-21, -58)
  line L45 (-21, -58) -> (-20, -58)
  line L46 (-20, -58) -> (-20, -12)
  line L47 (-55, -80) -> (-53, -80)
  line L48 (-55, -17) -> (-53, -17)
  line L49 (-53, -80) -> (-53, -17)
  line L50 (-5, -80) -> (-7, -80)
  line L51 (-7, -80) -> (-7, -17)
  line L52 (-5, -17) -> (-7, -17)
  line L53 (-5, -5) -> (-2.5006, -5)
  arc A5 (-2.5006, -5) -> (-2.5, 0) centre (-2.5, -2.5) ccw
  arc A6 (-57.5, 0) -> (-57.5, -5) centre (-57.5, -2.5) ccw
  line L54 (-57.5, -5) -> (-55, -5)
  line L55 (-55, -95) -> (-57.5, -95)
  arc A7 (-57.5, -95) -> (-57.5, -100) centre (-57.5, -97.5) ccw
  line L56 (-57.5, -100) -> (-55, -100)
  line L57 (-54.9973, -100) -> (-2.5024, -100)
  arc A8 (-2.5024, -100) -> (-2.5053, -95) centre (-2.5, -97.5) ccw
  line L58 (-2.5053, -95) -> (-5, -95)
  dimension "d166" = 12
  dimension "d167" = 15
  dimension "d168" = 2
  dimension "d169" = 2
  dimension "d170" = 63
  dimension "d171" = 15
  dimension "d172" = 12
  dimension "d173" = 2
  dimension "d174" = 63
  dimension "d175" = 2
extrude "Extrude22" add sketch "Side Car1" along normal blind 7 contours L0 L50 L51 L52
extrude "Extrude23" add sketch "Side Car1" along normal blind 7 contours L2 L47 L48 L49
sketch "Left Side Car" plane through (55, 0, 0) normal (1, 0, 0) x (0, 1, 0)
  line L0 (52, 0) -> (95, 0)
  line L1 (95, 3) -> (80, 3)
  line L2 (80, 3) -> (80, 10)
  line L3 (80, 10) -> (17, 10)
  line L4 (17, 10) -> (17, 3)
  line L5 (48, 0) -> (48, 2)
  line L6 (48, 2) -> (52, 2)
  line L7 (52, 2) -> (52, 0)
  line L8 (17, 3) -> (24, 10)
  arc A0 (80, 3) -> (73, 10) centre (73, 3) ccw
  line L9 (95, 0) -> (95, 3)
  line L10 (17, 3) -> (5, 3)
  line L11 (5, 3) -> (5, 0)
  line L12 (5, 0) -> (48, 0)
  dimension "d182" = 7
  dimension "d183" = 14
extrude "Extrude24" cut sketch "Left Side Car" against normal blind 3 contours L3 L4 L8
extrude "Extrude25" cut sketch "Left Side Car" against normal blind 3 contours L2 L3 A0
sketch "Right Side Car" plane through (5, 0, 0) normal (-1, 0, 0) x (0, -1, 0)
  line L0 (-48, 0) -> (-5, 0)
  line L1 (-5, 0) -> (-5, 3)
  line L2 (-5, 3) -> (-17, 3)
  line L3 (-17, 3) -> (-17, 10)
  line L4 (-17, 10) -> (-80, 10)
  line L5 (-80, 10) -> (-80, 3)
  line L6 (-52, 0) -> (-52, 2)
  line L7 (-52, 2) -> (-48, 2)
  line L8 (-48, 2) -> (-48, 0)
  line L9 (-24, 10) -> (-17, 3)
  arc A0 (-73, 10) -> (-80, 3) centre (-73, 3) ccw
  line L10 (-80, 3) -> (-95, 3)
  line L11 (-95, 3) -> (-95, 0)
  line L12 (-95, 0) -> (-52, 0)
  dimension "d190" = 7
  dimension "d191" = 14
extrude "Extrude26" cut sketch "Right Side Car" against normal blind 3 contours L4 L5 A0
extrude "Extrude27" cut sketch "Right Side Car" against normal blind 3 contours L3 L4 L9
sketch "Left Base Wheel" plane through (55, 0, 0) normal (1, 0, 0) x (0, 1, 0)
  arc A0 (80, 3) -> (73, 10) centre (73, 3) ccw
  line L0 (73, 10) -> (24, 10)
  line L1 (24, 10) -> (17, 3)
  line L2 (17, 3) -> (5, 3)
  line L3 (5, 0) -> (48, 0)
  line L4 (48, 0) -> (48, 2)
  line L5 (48, 2) -> (52, 2)
  line L6 (52, 2) -> (52, 0)
  line L7 (52, 0) -> (95, 0)
  line L8 (95, 3) -> (80, 3)
  circle A1 centre (27, 6) radius 2
  circle A2 centre (27, 6) radius 1
  circle A3 centre (73, 6) radius 2
  line L9 (5, 3) -> (5, 0)
  line L10 (95, 0) -> (95, 3)
  dimension "d198" = 4
  dimension "d199" = 2
  dimension "d202" = 4
extrude "Extrude28" cut sketch "Left Base Wheel" against normal blind 3 contours A3
extrude "Extrude29" add sketch "Left Base Wheel" along normal blind 4.4 contours A2
extrude "Extrude30" add sketch "Left Base Wheel" along normal blind 2 contours A1
sketch "Right Base Wheel" plane through (5, 0, 0) normal (-1, 0, 0) x (0, -1, 0)
  line L0 (-17, 3) -> (-24, 10)
  line L1 (-24, 10) -> (-73, 10)
  arc A0 (-73, 10) -> (-80, 3) centre (-73, 3) ccw
  line L2 (-80, 3) -> (-95, 3)
  line L3 (-95, 0) -> (-52, 0)
  line L4 (-52, 0) -> (-52, 2)
  line L5 (-52, 2) -> (-48, 2)
  line L6 (-48, 2) -> (-48, 0)
  line L7 (-48, 0) -> (-5, 0)
  line L8 (-5, 0) -> (-5, 3)
  line L9 (-5, 3) -> (-17, 3)
  circle A1 centre (-73, 6) radius 2
  circle A2 centre (-73, 6) radius 1
  circle A3 centre (-27, 6) radius 2
  circle A4 centre (-27, 6) radius 1
  line L10 (-95, 3) -> (-95, 0)
  dimension "d211" = 4
  dimension "d212" = 2
  dimension "d215" = 4
  dimension "d216" = 2
extrude "Extrude31" add sketch "Right Base Wheel" along normal blind 4.4 contours A2
extrude "Extrude32" add sketch "Right Base Wheel" along normal blind 2 contours A1
extrude "Extrude33" add sketch "Right Base Wheel" along normal blind 4.4 contours A4
extrude "Extrude34" add sketch "Right Base Wheel" along normal blind 2 contours A3
extrude "Extrude35" add 1 faces at (20.3333, 12, 4) along direction (0, 1, 0) blind 3
extrude "Extrude36" add 1 faces at (20.3333, 58, 4) along direction (0, -1, 0) blind 3
extrude "Extrude37" add 1 faces at (39.6667, 58, 4) along direction (0, -1, 0) blind 3
extrude "Extrude38" add 1 faces at (39.6667, 12, 4) along direction (0, 1, 0) blind 3
extrude "Extrude39" cut 1 faces at (25.6, 74.9333, 1.6667) along direction (-1, 0, 0) blind 0.2
extrude "Extrude40" cut 1 faces at (26, 61.6667, 4.6667) along direction (-1, 0, 0) blind 3
extrude "Extrude41" cut 1 faces at (34, 61.6667, 4.6667) along direction (1, 0, 0) blind 3
extrude "Extrude42" cut 1 faces at (56.2589, 97.8103, 4) along direction (0, 0, -1) blind 1
extrude "Extrude43" cut 1 faces at (55.0668, 97.2075, 6.4) along direction (0, 0, -1) blind 3.4
extrude "Extrude44" cut 1 faces at (6.1986, 97.0055, 4) along direction (0, 0, -1) blind 1
extrude "Extrude45" cut 1 faces at (5.4671, 97.669, 6.4) along direction (0, 0, -1) blind 3.4
extrude "Extrude46" cut 1 faces at (53.7089, 2.6192, 4) along direction (0, 0, -1) blind 1
extrude "Extrude47" cut 1 faces at (54.3598, 2.6859, 6.4) along direction (0, 0, -1) blind 3.4
extrude "Extrude48" cut 1 faces at (3.7089, 2.6192, 4) along direction (0, 0, -1) blind 1
extrude "Extrude49" cut 1 faces at (4.603, 2.6636, 6.4) along direction (0, 0, -1) blind 3.4
sketch "Sketch13" plane through (0, 0, 3) normal (0, 0, 1) x (-1, 0, 0)
  line L0 (-39, -15) -> (-40, -15)
  line L1 (-40, -15) -> (-40, -55)
  line L2 (-40, -55) -> (-39, -55)
  line L3 (-39, -55) -> (-39, -60)
  line L4 (-39, -60) -> (-37, -60)
  line L5 (-37, -60) -> (-37, -62)
  line L6 (-37, -62) -> (-41, -62)
  line L7 (-41, -62) -> (-51, -62)
  line L8 (-51, -62) -> (-51, -8)
  line L9 (-51, -8) -> (-41, -8)
  line L10 (-41, -8) -> (-19, -8)
  line L11 (-19, -8) -> (-9, -8)
  line L12 (-9, -8) -> (-9, -62)
  line L13 (-9, -62) -> (-19, -62)
  line L14 (-19, -62) -> (-23, -62)
  line L15 (-23, -62) -> (-23, -60)
  line L16 (-23, -60) -> (-21, -60)
  line L17 (-21, -60) -> (-21, -55)
  line L18 (-21, -55) -> (-20, -55)
  line L19 (-20, -55) -> (-20, -15)
  line L20 (-20, -15) -> (-21, -15)
  line L21 (-21, -15) -> (-21, -10)
  line L22 (-21, -10) -> (-23, -10)
  line L23 (-23, -10) -> (-23, -9)
  line L24 (-23, -9) -> (-37, -9)
  line L25 (-37, -9) -> (-37, -10)
  line L26 (-37, -10) -> (-39, -10)
  line L27 (-39, -10) -> (-39, -15)
  line L28 (-10, -2) -> (-10, -6)
  line L29 (-10, -6) -> (-50, -6)
  line L30 (-50, -6) -> (-50, -2)
  line L31 (-50, -2) -> (-10, -2)
  line L32 (-10, -82) -> (-10, -95)
  line L33 (-10, -95) -> (-50, -95)
  line L34 (-50, -95) -> (-50, -82)
  line L35 (-50, -82) -> (-10, -82)
  line L36 (-50, -66.8) -> (-10, -66.8)
  line L37 (-10, -66.8) -> (-10, -79)
  line L38 (-10, -79) -> (-50, -79)
  line L39 (-50, -79) -> (-50, -66.8)
  line L40 (-53, -80) -> (-55, -80)
  line L41 (-55, -80) -> (-55, -95)
  line L42 (-55, -95) -> (-57.5, -95)
  arc A0 (-57.5, -95) -> (-57.5, -100) centre (-57.5, -97.5) ccw
  line L43 (-57.5, -100) -> (-55, -100)
  arc A1 (-55, -100) -> (-54.9973, -100) centre (-55, -97.5) ccw
  line L44 (-54.9973, -100) -> (-2.5024, -100)
  arc A2 (-2.5024, -100) -> (-2.5053, -95) centre (-2.5, -97.5) ccw
  line L45 (-2.5053, -95) -> (-5, -95)
  line L46 (-5, -95) -> (-5, -80)
  line L47 (-5, -80) -> (-7, -80)
  line L48 (-7, -80) -> (-7, -17)
  line L49 (-7, -17) -> (-5, -17)
  line L50 (-5, -17) -> (-5, -5)
  line L51 (-5, -5) -> (-2.5006, -5)
  arc A3 (-2.5006, -5) -> (-2.5, 0) centre (-2.5, -2.5) ccw
  line L52 (-2.5, 0) -> (-57.5, 0)
  arc A4 (-57.5, 0) -> (-57.5, -5) centre (-57.5, -2.5) ccw
  line L53 (-57.5, -5) -> (-55, -5)
  line L54 (-55, -5) -> (-55, -17)
  line L55 (-55, -17) -> (-53, -17)
  line L56 (-53, -17) -> (-53, -80)
  circle A5 centre (-2.5, -2.5) radius 1
  circle A6 centre (-57.5, -2.5) radius 1
  circle A7 centre (-57.5, -97.5) radius 1
  circle A8 centre (-2.5, -97.5) radius 1
  dimension "d264" = 2
  dimension "d265" = 2
  dimension "d266" = 2
  dimension "d267" = 2
extrude "Extrude50" cut sketch "Sketch13" against normal blind 4 contours A6
extrude "Extrude51" cut sketch "Sketch13" against normal blind 4 contours A5
extrude "Extrude52" cut sketch "Sketch13" against normal blind 4 contours A8
extrude "Extrude53" cut sketch "Sketch13" against normal blind 4 contours A7
extrude "Extrude54" cut 1 faces at (59.4, 26.9258, 6.325) along direction (-1, 0, 0) blind 2.4
extrude "Extrude55" cut 1 faces at (0.6, 27.0742, 6.325) along direction (1, 0, 0) blind 2.4
extrude "Extrude56" cut 1 faces at (0.6, 73.0787, 5.4037) along direction (1, 0, 0) blind 2.4
extrude "Extrude57" cut sketch "Left Base Wheel" along normal blind 3 and the other way blind 3 contours A2
extrude "Extrude58" cut sketch "Right Base Wheel" along normal blind 3 and the other way blind 3 contours A2
extrude "Extrude59" cut sketch "Right Base Wheel" along normal blind 3 and the other way blind 3 contours A4
